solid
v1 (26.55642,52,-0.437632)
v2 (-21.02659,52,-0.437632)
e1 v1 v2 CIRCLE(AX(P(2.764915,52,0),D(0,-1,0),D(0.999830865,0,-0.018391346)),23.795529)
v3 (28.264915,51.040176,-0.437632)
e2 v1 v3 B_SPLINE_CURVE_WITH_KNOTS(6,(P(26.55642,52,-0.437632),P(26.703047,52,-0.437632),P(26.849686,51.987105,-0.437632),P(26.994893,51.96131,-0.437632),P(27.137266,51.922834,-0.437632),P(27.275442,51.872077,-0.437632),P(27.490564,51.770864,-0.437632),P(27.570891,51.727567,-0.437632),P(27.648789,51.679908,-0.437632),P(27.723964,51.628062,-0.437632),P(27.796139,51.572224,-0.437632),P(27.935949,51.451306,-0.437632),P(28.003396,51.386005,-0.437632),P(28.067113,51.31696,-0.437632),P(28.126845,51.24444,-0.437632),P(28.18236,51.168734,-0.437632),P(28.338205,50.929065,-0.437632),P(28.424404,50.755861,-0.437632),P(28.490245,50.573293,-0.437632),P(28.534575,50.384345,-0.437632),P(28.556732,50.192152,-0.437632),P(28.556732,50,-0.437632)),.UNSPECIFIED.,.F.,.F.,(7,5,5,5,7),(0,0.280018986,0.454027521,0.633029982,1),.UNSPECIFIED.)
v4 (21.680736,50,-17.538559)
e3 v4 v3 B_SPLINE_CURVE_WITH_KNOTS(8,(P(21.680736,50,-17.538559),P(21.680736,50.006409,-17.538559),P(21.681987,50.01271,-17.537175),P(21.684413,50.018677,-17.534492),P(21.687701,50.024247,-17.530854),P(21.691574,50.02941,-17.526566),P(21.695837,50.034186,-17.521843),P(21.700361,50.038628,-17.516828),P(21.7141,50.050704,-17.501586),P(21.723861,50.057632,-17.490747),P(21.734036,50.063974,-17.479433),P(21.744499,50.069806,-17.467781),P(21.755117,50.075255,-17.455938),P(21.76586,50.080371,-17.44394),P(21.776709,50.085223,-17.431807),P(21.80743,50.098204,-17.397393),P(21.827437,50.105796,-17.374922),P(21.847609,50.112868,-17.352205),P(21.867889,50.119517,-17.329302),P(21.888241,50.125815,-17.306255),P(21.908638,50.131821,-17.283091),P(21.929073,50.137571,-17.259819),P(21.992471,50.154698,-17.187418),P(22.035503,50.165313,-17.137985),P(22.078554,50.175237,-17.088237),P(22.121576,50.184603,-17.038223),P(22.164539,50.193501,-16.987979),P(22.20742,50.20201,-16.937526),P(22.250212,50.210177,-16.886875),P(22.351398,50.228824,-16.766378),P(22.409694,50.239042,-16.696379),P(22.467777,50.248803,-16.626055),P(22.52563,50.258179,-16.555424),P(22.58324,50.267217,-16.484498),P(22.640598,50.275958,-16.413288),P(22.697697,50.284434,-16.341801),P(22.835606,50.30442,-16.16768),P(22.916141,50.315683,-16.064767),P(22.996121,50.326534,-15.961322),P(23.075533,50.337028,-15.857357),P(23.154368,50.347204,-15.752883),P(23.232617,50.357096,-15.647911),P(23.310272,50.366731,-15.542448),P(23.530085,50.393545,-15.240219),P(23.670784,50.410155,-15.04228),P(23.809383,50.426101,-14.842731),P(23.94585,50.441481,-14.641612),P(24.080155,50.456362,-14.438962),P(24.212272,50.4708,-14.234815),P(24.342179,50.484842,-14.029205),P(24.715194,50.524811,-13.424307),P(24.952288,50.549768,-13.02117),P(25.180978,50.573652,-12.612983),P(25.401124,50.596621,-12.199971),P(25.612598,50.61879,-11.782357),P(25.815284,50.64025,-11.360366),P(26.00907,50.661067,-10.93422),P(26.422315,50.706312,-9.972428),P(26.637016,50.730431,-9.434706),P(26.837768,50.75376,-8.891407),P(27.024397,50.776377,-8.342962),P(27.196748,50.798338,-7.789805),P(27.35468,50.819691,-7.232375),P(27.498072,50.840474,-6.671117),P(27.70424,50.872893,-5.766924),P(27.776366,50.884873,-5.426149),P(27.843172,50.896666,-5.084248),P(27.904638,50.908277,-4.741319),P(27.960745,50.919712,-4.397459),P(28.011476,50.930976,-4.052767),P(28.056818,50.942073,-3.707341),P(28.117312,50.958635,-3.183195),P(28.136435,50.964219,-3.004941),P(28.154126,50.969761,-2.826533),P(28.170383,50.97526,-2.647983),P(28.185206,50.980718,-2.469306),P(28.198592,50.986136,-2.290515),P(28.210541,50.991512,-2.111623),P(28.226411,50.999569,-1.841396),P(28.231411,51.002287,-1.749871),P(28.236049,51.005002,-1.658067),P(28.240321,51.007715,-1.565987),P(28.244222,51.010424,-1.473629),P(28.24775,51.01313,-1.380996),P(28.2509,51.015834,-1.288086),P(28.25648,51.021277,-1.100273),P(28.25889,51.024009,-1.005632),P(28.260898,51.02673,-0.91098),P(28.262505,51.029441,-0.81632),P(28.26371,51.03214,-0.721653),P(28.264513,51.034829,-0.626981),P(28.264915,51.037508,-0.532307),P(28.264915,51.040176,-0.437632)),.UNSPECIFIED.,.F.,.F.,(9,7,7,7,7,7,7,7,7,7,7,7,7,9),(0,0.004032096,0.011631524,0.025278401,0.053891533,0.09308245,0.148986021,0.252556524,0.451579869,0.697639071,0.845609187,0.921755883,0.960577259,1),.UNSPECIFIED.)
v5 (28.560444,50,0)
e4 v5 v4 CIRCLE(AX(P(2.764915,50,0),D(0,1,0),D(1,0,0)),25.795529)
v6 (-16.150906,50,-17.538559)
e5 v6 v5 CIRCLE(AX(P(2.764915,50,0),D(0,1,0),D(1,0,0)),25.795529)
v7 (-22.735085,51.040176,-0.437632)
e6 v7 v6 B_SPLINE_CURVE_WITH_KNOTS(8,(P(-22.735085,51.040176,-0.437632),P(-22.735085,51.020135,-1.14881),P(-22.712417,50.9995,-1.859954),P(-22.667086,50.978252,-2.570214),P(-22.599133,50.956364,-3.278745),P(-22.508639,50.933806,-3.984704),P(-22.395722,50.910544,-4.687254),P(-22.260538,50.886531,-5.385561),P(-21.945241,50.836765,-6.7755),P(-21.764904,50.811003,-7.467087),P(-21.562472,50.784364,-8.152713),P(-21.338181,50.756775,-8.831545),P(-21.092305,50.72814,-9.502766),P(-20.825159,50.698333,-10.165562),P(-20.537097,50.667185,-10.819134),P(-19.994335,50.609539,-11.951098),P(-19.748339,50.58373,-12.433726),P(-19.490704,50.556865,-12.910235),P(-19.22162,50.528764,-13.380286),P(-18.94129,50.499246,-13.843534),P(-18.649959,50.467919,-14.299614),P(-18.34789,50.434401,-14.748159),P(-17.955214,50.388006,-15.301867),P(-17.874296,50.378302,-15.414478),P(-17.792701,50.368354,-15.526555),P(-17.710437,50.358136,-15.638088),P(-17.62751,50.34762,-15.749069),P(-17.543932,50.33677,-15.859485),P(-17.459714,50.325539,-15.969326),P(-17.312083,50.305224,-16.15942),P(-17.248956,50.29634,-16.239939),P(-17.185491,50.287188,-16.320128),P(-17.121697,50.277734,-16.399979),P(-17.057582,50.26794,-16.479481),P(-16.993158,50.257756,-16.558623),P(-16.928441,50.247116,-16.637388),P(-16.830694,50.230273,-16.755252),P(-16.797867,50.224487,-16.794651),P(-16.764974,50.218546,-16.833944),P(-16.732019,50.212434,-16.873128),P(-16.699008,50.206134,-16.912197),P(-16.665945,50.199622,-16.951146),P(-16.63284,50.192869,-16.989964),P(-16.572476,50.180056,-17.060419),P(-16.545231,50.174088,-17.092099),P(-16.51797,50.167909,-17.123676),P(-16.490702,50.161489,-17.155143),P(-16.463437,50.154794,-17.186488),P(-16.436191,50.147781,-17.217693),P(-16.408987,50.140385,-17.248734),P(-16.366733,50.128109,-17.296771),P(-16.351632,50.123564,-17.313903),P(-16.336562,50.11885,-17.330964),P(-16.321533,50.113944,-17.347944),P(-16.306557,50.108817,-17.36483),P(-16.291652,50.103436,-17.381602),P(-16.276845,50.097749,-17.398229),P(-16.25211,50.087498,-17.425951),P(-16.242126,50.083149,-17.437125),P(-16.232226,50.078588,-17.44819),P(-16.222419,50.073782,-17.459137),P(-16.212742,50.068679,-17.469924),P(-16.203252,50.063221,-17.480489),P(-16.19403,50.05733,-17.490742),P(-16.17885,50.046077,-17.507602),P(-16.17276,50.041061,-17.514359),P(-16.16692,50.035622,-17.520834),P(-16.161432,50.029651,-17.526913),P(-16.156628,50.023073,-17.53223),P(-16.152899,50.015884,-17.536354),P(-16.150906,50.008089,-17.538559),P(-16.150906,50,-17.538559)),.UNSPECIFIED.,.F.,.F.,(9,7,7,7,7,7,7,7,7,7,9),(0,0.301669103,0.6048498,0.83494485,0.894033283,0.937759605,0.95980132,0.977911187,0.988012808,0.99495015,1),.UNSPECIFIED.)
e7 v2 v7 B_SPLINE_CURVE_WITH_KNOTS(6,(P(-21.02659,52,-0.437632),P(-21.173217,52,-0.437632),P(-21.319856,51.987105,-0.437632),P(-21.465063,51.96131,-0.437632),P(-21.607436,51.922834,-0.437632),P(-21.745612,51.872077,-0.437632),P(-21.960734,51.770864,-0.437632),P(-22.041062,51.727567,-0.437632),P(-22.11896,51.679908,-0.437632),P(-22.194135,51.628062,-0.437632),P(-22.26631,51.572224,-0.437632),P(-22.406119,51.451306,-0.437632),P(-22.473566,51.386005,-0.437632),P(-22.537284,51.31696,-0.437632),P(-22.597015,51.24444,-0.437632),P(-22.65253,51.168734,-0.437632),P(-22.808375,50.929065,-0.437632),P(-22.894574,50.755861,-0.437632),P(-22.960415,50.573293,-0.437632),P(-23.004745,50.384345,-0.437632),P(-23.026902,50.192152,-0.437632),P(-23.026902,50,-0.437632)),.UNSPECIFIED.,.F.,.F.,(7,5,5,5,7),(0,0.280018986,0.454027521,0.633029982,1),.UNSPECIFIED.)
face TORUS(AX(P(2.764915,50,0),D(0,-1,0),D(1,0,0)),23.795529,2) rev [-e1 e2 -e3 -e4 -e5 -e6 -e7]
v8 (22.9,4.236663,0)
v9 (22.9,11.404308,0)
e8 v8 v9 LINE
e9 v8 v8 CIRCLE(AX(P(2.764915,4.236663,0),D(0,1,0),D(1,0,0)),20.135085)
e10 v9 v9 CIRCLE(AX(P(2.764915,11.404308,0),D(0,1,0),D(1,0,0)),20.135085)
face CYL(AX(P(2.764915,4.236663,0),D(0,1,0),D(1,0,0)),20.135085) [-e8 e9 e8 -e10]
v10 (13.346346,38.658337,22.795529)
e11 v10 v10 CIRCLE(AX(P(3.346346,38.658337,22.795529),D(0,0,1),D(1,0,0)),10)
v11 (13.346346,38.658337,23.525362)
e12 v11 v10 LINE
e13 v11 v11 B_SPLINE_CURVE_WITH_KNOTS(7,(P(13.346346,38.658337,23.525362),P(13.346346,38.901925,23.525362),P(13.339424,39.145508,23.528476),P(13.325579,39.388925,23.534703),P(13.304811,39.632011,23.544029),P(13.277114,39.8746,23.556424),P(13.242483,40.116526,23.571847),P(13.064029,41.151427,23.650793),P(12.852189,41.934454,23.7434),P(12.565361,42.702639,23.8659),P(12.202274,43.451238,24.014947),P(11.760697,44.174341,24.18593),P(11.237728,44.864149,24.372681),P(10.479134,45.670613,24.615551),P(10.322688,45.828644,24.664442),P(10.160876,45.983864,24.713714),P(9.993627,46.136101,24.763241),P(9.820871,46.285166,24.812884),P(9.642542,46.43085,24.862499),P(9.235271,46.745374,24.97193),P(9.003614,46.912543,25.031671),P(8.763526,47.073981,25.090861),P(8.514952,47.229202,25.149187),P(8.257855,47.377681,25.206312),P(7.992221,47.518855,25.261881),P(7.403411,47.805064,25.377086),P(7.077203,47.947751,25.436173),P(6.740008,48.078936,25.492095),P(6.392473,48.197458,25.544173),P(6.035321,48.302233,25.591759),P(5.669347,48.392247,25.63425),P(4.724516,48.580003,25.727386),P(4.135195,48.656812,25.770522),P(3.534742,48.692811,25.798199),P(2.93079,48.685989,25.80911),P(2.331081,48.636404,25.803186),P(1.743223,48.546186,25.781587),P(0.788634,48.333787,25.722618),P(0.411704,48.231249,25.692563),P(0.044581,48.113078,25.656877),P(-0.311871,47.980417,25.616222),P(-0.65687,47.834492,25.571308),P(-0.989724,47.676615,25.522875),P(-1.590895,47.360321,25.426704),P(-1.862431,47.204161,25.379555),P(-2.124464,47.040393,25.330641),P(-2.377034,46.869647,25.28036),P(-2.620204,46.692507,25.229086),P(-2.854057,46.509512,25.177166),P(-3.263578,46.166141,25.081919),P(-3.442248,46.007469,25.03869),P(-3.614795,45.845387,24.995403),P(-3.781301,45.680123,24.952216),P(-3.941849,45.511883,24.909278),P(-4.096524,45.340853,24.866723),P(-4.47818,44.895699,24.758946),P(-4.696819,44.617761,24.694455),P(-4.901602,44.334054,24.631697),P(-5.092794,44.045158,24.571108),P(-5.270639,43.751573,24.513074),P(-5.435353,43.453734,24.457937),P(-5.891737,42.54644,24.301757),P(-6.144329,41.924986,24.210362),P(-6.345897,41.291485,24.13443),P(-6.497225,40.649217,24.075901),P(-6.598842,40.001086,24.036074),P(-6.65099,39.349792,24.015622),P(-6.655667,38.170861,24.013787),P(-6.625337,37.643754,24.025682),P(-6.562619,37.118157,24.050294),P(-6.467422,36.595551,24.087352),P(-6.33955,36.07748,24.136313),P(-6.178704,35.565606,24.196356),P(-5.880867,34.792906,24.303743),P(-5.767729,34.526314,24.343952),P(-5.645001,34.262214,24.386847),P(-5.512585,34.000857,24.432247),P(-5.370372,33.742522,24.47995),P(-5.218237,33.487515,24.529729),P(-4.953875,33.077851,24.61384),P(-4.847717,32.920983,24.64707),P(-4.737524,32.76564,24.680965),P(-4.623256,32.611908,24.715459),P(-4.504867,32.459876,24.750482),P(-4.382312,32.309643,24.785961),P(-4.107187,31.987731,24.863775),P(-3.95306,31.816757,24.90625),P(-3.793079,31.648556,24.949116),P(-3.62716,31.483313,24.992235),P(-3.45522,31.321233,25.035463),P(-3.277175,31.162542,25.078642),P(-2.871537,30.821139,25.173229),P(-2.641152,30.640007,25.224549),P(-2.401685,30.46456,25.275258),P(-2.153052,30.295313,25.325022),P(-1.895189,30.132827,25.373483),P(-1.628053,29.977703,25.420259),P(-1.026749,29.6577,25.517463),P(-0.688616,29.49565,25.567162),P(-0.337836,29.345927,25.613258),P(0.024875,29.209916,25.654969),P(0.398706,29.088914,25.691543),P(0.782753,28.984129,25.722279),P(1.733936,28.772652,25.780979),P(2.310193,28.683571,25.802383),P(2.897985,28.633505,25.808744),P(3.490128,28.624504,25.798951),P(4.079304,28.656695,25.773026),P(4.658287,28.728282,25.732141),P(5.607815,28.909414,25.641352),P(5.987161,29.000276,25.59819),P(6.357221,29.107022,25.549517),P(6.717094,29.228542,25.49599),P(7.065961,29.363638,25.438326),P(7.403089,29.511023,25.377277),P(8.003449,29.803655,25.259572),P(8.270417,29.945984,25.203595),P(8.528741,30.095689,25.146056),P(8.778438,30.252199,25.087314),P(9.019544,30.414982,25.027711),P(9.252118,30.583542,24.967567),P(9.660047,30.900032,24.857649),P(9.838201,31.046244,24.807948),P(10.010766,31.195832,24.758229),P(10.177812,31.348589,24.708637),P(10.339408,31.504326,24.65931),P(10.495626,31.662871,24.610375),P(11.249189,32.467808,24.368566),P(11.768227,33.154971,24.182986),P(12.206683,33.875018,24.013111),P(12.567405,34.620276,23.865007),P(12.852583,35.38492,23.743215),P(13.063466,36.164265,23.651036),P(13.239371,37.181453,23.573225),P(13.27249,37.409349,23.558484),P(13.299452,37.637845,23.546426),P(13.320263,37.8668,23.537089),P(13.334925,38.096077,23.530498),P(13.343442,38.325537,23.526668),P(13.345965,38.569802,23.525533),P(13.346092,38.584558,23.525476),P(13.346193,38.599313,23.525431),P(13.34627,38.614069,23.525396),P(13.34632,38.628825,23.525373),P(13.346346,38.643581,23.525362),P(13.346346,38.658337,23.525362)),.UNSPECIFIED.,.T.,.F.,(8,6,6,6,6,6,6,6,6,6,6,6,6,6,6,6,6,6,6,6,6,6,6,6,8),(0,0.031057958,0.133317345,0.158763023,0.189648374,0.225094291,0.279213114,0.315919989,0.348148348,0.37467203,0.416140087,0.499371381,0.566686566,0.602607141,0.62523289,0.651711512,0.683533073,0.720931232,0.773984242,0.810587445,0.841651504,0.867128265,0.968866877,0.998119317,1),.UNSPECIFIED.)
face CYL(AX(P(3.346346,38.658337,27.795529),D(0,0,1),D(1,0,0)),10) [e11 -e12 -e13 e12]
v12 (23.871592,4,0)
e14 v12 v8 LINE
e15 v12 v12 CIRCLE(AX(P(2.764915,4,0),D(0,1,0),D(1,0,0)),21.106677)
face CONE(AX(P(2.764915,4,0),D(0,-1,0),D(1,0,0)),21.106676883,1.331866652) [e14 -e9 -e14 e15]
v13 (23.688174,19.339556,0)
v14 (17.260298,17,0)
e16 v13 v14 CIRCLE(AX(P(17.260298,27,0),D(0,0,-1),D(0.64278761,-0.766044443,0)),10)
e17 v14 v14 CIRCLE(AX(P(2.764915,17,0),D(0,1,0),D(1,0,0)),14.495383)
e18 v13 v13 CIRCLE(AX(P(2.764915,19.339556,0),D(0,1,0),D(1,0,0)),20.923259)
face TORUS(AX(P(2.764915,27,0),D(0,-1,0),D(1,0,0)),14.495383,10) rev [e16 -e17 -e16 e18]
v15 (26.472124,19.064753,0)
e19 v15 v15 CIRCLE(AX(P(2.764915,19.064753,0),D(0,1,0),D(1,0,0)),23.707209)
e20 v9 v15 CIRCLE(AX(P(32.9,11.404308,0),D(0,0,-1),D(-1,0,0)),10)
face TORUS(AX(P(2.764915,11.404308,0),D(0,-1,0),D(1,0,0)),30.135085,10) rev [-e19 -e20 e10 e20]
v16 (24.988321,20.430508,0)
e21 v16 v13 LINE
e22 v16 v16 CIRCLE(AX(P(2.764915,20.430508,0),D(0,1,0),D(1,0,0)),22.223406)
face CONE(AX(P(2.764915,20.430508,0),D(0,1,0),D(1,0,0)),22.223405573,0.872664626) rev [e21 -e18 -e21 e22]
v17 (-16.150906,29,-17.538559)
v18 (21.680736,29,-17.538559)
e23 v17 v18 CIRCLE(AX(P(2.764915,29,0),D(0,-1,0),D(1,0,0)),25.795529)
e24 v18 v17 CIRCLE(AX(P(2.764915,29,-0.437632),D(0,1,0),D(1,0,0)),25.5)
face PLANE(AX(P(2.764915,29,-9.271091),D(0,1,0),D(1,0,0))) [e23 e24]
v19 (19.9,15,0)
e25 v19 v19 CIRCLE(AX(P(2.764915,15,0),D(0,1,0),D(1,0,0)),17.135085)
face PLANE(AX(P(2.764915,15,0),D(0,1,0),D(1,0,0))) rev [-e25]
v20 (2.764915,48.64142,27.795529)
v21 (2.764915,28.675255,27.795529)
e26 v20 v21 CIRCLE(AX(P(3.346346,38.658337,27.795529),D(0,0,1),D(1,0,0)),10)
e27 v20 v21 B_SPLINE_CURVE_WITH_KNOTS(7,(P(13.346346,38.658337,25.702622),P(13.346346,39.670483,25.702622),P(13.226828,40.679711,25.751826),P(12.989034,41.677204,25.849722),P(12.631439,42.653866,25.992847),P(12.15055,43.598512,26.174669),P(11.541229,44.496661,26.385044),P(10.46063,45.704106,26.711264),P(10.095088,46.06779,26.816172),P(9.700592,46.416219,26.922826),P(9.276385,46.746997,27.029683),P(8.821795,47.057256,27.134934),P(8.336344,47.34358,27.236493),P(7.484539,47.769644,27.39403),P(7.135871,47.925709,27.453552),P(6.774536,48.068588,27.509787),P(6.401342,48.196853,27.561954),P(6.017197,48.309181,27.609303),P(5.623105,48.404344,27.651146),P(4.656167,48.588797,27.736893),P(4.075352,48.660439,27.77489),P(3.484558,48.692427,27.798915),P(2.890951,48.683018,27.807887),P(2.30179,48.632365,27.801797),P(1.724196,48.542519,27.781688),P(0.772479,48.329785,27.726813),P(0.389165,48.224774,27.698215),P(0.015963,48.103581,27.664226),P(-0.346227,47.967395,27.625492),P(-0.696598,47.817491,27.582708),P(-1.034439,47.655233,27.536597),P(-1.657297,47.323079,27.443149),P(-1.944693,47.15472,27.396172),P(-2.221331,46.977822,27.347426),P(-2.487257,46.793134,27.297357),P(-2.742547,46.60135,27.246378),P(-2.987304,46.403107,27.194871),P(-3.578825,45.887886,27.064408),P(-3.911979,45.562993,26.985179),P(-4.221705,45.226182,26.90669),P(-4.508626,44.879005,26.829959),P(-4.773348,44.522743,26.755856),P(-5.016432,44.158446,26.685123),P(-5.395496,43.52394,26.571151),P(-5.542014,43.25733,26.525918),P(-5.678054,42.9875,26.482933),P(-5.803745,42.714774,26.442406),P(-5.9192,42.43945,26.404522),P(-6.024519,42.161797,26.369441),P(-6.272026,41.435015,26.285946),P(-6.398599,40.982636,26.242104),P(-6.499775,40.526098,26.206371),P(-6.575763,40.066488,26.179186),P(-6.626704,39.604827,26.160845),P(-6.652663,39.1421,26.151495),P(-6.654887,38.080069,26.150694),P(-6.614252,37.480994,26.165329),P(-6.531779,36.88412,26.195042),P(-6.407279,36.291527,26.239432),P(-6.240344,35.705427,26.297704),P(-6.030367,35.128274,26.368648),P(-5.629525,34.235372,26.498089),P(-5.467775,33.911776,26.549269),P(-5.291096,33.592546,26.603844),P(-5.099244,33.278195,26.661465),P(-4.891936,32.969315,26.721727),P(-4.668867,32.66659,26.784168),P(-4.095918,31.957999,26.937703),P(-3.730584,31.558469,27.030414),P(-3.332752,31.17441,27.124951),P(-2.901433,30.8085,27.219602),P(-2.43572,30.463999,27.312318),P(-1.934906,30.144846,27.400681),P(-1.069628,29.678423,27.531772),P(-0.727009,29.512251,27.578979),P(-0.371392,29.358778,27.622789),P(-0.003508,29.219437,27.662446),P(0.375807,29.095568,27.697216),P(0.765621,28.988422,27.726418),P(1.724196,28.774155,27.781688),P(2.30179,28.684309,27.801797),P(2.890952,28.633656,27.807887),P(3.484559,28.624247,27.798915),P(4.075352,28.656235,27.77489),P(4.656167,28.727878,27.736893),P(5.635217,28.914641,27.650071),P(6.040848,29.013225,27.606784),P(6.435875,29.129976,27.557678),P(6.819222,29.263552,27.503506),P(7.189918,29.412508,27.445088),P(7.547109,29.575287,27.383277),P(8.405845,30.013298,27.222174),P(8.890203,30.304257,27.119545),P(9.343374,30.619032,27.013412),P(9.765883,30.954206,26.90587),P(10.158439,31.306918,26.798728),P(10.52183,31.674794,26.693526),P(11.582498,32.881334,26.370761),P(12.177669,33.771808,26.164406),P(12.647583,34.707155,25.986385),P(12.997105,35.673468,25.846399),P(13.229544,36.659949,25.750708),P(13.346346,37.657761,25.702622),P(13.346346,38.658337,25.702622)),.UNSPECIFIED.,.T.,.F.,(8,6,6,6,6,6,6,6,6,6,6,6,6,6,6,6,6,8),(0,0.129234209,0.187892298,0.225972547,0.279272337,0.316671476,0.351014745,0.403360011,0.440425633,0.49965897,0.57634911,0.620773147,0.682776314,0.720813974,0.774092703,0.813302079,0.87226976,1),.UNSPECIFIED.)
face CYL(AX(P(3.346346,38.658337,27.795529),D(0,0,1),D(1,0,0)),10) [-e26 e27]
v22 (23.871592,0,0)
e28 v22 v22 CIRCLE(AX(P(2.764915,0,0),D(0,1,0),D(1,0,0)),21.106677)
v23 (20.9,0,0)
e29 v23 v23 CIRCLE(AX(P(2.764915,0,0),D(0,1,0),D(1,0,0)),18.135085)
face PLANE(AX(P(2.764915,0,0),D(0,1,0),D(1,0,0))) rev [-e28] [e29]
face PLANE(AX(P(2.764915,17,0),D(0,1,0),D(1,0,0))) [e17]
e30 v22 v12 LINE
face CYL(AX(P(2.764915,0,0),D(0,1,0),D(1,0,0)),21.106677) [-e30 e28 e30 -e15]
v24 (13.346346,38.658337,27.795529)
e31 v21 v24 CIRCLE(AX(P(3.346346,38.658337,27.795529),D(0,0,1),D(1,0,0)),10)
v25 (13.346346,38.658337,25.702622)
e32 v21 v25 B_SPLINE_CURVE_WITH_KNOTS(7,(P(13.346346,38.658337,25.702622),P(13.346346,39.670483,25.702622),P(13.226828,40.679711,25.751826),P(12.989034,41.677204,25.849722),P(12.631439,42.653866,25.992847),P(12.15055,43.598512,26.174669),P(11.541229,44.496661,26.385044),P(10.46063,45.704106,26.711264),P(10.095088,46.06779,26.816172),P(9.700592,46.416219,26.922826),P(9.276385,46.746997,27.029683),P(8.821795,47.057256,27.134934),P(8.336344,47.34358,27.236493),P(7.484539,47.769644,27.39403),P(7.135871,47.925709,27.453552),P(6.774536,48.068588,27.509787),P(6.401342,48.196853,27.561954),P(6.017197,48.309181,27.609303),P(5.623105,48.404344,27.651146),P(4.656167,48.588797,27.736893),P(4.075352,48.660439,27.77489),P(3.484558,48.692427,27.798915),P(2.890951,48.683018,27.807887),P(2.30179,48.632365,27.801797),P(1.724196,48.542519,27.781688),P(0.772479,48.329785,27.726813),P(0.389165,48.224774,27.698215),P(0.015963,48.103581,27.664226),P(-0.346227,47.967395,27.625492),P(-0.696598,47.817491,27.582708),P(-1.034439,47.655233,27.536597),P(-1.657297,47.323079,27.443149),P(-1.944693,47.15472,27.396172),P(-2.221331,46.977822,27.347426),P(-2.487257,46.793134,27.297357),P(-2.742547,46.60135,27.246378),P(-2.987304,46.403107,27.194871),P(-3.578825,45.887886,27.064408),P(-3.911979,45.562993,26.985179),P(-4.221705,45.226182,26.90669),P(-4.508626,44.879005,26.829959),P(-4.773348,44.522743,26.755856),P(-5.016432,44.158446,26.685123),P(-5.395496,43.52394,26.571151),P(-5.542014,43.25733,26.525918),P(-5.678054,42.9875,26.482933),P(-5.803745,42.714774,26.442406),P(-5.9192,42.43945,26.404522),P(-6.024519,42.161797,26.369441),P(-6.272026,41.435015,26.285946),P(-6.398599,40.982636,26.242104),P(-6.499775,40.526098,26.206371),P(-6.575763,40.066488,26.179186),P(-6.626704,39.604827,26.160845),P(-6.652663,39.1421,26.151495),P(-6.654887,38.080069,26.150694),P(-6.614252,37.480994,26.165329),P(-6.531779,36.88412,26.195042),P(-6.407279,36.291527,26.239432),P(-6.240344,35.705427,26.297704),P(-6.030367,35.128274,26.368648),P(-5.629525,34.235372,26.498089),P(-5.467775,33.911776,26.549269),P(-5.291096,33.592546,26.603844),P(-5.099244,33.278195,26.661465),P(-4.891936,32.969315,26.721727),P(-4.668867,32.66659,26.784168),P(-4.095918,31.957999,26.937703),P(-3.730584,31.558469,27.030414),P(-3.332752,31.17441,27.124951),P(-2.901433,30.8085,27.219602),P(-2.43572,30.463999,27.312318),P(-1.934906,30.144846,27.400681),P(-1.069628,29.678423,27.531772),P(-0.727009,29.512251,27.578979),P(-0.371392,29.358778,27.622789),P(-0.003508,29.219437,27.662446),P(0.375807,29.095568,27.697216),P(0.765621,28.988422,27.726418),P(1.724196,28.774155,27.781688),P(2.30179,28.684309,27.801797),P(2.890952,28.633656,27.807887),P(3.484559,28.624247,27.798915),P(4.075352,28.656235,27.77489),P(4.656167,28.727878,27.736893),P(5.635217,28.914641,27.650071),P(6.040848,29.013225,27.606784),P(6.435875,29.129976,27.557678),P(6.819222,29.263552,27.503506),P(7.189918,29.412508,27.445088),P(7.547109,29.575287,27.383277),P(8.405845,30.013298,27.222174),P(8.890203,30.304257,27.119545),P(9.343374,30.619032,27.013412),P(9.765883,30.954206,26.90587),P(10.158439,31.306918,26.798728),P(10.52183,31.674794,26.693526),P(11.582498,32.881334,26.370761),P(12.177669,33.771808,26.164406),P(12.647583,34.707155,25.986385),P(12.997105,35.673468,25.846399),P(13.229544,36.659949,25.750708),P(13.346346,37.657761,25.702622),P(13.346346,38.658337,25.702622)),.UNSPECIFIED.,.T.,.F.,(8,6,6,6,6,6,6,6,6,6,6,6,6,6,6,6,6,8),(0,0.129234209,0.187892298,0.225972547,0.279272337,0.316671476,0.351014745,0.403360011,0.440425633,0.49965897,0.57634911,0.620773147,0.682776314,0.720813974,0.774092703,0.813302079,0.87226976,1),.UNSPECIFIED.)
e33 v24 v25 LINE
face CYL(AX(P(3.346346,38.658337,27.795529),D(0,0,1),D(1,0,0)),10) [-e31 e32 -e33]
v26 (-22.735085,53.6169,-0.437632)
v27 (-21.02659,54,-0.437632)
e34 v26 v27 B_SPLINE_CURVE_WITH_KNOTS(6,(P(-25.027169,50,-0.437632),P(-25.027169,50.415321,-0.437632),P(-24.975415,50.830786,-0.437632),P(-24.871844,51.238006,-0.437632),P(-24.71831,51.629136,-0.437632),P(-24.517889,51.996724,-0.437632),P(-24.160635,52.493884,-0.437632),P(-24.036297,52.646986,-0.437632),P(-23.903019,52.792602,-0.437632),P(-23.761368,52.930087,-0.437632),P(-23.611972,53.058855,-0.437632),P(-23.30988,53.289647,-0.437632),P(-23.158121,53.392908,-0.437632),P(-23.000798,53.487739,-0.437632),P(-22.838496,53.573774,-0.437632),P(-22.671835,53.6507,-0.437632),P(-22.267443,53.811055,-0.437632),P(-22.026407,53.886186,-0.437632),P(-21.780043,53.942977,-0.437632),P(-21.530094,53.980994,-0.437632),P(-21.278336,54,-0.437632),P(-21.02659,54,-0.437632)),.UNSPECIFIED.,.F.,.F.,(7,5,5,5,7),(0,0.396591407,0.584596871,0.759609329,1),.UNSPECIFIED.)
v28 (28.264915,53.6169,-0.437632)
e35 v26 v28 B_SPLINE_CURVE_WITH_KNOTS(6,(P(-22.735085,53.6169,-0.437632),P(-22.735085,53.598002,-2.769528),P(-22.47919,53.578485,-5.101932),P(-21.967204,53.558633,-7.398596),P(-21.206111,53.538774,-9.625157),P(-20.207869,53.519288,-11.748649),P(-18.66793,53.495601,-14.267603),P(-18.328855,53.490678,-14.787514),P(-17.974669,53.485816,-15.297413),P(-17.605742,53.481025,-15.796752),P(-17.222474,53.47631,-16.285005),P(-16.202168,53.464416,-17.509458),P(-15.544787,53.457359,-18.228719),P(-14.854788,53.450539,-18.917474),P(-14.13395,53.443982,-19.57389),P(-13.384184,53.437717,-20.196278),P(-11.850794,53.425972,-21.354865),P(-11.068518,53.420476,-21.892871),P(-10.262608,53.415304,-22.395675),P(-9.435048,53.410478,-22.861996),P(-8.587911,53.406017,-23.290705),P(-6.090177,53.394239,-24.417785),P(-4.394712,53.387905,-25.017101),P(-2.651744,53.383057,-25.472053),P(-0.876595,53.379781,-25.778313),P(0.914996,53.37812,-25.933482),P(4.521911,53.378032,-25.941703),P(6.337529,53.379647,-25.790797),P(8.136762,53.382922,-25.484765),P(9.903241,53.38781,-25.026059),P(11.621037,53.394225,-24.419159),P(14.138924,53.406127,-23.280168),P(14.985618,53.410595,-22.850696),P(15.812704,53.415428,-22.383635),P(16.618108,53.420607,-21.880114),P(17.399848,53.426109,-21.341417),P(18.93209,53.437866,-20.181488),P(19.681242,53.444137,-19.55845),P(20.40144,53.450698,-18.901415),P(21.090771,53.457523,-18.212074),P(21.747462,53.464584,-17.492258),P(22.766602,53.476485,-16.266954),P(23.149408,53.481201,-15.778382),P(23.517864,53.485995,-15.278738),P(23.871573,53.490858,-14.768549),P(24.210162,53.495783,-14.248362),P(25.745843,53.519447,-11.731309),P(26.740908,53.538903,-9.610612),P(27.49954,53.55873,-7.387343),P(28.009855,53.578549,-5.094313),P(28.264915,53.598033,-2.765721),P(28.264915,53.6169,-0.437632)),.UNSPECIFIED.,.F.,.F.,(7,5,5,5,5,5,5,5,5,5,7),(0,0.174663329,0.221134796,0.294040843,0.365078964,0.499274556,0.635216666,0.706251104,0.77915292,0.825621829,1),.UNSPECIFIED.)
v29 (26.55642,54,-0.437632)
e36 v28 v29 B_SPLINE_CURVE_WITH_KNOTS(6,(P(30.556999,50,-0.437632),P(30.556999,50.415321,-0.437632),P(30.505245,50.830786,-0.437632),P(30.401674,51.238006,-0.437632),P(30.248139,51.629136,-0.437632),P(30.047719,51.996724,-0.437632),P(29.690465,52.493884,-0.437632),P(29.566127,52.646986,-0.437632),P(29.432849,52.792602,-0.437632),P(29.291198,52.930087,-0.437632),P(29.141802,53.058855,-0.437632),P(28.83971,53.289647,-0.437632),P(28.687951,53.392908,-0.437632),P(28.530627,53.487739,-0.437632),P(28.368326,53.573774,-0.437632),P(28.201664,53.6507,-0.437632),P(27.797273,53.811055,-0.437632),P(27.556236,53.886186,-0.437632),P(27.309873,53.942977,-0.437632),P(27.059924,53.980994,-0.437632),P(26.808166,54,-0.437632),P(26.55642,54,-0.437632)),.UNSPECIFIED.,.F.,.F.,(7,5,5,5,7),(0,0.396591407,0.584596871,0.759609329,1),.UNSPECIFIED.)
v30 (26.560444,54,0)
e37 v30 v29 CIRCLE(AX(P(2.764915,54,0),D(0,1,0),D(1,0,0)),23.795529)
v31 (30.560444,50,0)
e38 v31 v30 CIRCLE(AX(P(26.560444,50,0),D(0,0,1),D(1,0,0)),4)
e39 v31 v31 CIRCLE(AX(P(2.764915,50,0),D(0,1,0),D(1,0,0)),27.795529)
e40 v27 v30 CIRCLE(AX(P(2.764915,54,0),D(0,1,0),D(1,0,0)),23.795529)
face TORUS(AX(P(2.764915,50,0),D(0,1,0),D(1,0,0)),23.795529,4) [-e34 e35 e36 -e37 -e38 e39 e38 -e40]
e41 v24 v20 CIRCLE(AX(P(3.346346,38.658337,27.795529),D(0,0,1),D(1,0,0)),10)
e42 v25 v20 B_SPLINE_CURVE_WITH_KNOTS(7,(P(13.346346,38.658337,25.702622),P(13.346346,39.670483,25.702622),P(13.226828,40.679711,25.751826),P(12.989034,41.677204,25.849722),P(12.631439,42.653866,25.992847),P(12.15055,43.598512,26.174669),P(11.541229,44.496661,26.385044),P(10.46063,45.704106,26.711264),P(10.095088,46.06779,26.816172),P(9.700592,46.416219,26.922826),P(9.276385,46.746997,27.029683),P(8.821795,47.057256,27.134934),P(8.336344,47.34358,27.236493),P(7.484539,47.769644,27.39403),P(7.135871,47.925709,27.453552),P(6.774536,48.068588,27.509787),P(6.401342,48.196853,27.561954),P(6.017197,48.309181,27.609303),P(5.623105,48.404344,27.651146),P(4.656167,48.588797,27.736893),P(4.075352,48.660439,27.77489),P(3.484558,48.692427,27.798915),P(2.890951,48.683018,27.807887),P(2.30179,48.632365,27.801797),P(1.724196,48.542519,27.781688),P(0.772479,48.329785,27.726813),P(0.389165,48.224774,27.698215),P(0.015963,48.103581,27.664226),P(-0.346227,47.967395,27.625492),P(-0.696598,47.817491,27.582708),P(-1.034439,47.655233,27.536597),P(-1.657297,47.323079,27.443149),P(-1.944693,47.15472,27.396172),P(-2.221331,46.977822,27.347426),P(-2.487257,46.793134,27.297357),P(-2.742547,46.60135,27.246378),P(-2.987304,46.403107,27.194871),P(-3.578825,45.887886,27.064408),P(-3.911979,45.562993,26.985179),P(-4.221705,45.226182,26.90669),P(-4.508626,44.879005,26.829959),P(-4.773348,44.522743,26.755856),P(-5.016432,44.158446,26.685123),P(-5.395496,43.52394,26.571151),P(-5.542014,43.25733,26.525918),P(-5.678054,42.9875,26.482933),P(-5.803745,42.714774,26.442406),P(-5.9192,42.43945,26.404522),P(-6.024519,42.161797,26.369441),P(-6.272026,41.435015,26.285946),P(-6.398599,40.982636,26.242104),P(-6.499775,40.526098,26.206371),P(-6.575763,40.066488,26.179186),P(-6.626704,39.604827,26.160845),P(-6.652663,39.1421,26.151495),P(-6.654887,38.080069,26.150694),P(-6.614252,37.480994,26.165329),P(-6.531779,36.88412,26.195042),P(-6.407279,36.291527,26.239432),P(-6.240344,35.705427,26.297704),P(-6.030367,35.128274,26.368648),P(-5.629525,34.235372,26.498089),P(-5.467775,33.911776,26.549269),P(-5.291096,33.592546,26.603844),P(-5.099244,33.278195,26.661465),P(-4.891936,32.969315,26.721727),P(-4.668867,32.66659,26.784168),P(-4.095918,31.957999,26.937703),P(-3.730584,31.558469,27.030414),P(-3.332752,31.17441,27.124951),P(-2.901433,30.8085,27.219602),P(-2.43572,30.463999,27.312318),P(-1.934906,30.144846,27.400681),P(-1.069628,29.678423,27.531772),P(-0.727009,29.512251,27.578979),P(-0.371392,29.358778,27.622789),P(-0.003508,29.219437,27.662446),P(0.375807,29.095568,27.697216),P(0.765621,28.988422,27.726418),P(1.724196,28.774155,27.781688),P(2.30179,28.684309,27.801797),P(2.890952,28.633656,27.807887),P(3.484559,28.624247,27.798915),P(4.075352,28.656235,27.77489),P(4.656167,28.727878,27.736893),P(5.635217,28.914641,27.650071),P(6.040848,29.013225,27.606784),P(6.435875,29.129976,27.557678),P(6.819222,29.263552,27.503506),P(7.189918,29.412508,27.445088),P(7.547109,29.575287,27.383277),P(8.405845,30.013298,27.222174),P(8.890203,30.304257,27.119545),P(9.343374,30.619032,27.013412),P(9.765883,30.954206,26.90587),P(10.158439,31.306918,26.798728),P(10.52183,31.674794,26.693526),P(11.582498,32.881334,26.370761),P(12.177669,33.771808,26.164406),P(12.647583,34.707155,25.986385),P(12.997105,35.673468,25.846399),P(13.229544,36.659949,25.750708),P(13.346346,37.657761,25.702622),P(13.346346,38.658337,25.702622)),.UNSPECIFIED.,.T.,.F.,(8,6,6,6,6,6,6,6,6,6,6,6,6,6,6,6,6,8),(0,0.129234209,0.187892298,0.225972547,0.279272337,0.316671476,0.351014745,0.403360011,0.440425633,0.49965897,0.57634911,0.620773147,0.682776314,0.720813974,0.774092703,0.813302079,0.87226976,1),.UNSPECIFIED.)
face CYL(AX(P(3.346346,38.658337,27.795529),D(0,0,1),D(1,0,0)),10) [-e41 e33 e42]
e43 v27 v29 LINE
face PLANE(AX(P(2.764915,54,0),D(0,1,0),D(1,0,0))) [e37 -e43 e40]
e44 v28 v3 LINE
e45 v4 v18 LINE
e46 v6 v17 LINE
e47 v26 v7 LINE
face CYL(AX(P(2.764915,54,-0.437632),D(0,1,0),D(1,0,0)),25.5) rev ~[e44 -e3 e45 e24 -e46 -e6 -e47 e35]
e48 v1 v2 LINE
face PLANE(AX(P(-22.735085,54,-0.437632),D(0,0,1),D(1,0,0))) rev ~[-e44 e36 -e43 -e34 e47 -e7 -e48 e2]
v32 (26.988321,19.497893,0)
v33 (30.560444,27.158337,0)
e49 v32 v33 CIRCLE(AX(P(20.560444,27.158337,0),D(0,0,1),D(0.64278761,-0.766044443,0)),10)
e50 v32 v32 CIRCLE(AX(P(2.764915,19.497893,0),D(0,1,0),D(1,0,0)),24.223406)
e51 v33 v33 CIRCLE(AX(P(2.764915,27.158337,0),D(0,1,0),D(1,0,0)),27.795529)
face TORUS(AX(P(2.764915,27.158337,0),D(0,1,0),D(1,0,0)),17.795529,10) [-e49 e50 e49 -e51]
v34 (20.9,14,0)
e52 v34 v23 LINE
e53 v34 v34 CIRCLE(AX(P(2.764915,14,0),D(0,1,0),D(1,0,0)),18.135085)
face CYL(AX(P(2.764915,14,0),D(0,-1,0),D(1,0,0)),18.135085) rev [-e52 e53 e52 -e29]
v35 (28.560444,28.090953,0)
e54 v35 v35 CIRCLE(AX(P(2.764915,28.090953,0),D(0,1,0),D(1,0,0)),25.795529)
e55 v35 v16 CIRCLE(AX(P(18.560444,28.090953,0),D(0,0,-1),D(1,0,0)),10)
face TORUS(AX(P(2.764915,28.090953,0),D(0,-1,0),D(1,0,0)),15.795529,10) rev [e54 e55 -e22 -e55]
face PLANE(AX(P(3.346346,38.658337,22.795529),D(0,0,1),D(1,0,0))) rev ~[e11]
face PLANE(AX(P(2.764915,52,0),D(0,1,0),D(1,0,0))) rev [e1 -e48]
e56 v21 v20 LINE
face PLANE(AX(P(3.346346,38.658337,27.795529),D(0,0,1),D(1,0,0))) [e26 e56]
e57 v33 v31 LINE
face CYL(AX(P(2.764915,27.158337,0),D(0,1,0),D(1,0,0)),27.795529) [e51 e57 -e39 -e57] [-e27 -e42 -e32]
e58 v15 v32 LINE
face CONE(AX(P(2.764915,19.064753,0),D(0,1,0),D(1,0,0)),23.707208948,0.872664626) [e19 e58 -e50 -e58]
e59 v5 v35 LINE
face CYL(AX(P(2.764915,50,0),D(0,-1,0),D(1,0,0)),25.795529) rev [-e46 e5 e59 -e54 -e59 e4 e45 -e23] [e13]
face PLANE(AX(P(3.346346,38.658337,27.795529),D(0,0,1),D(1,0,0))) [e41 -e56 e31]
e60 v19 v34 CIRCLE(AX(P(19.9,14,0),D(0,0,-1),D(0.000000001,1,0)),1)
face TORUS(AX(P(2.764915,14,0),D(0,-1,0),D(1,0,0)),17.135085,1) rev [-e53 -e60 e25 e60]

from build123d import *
from build123d.topology import SkipClean

# Parameters (mm, degrees)
CUT_EXTRUDE2_DEPTH  = 25
SKETCH10_R          = 10
BOSS_EXTRUDE1_DEPTH = 5


with BuildPart() as part:
    # Sketch1 → Revolve1 (revolve)
    with BuildSketch(Plane.XY):
        with BuildLine():
            Line((20.9, 0), (23.871591838, 0))
            Line((23.871591838, 0), (23.871591838, 4))
            Line((23.871591838, 4), (22.9, 4.236662843))
            Line((22.9, 4.236662843), (22.9, 11.404308102))
            ThreePointArc((22.9, 11.404308102), (23.83692213, 15.63049072), (26.472123903, 19.064752533))
            Line((26.472123903, 19.064752533), (26.988320528, 19.497892931))
            ThreePointArc((26.988320528, 19.497892931), (29.623522302, 22.932154745), (30.560444431, 27.158337362))
            Line((30.560444431, 27.158337362), (30.560444431, 50))
            ThreePointArc((30.560444431, 50), (29.388871556, 52.828427125), (26.560444431, 54))
            Line((26.560444431, 54), (2.764914955, 54))
            Line((2.764914955, 54), (2.764914955, 52))
            Line((2.764914955, 52), (26.560444431, 52))
            ThreePointArc((26.560444431, 52), (27.974657994, 51.414213562), (28.560444431, 50))
            Line((28.560444431, 50), (28.560444431, 28.090952678))
            ThreePointArc((28.560444431, 28.090952678), (27.623522302, 23.864770061), (24.988320528, 20.430508247))
            Line((24.988320528, 20.430508247), (23.688173754, 19.339555569))
            ThreePointArc((23.688173754, 19.339555569), (20.680499091, 17.603073792), (17.260297657, 17))
            Line((17.260297657, 17), (2.764914955, 17))
            Line((2.764914955, 17), (2.764914955, 15))
            Line((2.764914955, 15), (19.9, 15))
            ThreePointArc((19.9, 15), (20.607106781, 14.707106781), (20.9, 14))
            Line((20.9, 14), (20.9, 0))
        make_face()
    revolve(axis=Axis((2.764914955, 7.821821657, 0), (0, 1, 0)))

    # Sketch9 → Cut-Extrude2 (cut)
    with BuildSketch(Plane(origin=(0, 54, 0), x_dir=(1, 0, 0), z_dir=(0, 1, 0))):
        with BuildLine():
            Line((-22.735085045, 0.437631804), (28.264914955, 0.437631804))
            ThreePointArc((28.264914955, 0.437631804), (2.764914955, 25.937631804), (-22.735085045, 0.437631804))
        make_face()
    extrude(amount=-CUT_EXTRUDE2_DEPTH, mode=Mode.SUBTRACT)

    # Sketch10 → Boss-Extrude1 (add)
    with SkipClean():  # the faces are left unmerged after this step: merging them gives an invalid solid
        with BuildSketch(Plane.XY.offset(27.795529476)):
            with Locations((3.346345887, 38.658337362)):
                Circle(SKETCH10_R)
        extrude(amount=-BOSS_EXTRUDE1_DEPTH)


solid = part.part
